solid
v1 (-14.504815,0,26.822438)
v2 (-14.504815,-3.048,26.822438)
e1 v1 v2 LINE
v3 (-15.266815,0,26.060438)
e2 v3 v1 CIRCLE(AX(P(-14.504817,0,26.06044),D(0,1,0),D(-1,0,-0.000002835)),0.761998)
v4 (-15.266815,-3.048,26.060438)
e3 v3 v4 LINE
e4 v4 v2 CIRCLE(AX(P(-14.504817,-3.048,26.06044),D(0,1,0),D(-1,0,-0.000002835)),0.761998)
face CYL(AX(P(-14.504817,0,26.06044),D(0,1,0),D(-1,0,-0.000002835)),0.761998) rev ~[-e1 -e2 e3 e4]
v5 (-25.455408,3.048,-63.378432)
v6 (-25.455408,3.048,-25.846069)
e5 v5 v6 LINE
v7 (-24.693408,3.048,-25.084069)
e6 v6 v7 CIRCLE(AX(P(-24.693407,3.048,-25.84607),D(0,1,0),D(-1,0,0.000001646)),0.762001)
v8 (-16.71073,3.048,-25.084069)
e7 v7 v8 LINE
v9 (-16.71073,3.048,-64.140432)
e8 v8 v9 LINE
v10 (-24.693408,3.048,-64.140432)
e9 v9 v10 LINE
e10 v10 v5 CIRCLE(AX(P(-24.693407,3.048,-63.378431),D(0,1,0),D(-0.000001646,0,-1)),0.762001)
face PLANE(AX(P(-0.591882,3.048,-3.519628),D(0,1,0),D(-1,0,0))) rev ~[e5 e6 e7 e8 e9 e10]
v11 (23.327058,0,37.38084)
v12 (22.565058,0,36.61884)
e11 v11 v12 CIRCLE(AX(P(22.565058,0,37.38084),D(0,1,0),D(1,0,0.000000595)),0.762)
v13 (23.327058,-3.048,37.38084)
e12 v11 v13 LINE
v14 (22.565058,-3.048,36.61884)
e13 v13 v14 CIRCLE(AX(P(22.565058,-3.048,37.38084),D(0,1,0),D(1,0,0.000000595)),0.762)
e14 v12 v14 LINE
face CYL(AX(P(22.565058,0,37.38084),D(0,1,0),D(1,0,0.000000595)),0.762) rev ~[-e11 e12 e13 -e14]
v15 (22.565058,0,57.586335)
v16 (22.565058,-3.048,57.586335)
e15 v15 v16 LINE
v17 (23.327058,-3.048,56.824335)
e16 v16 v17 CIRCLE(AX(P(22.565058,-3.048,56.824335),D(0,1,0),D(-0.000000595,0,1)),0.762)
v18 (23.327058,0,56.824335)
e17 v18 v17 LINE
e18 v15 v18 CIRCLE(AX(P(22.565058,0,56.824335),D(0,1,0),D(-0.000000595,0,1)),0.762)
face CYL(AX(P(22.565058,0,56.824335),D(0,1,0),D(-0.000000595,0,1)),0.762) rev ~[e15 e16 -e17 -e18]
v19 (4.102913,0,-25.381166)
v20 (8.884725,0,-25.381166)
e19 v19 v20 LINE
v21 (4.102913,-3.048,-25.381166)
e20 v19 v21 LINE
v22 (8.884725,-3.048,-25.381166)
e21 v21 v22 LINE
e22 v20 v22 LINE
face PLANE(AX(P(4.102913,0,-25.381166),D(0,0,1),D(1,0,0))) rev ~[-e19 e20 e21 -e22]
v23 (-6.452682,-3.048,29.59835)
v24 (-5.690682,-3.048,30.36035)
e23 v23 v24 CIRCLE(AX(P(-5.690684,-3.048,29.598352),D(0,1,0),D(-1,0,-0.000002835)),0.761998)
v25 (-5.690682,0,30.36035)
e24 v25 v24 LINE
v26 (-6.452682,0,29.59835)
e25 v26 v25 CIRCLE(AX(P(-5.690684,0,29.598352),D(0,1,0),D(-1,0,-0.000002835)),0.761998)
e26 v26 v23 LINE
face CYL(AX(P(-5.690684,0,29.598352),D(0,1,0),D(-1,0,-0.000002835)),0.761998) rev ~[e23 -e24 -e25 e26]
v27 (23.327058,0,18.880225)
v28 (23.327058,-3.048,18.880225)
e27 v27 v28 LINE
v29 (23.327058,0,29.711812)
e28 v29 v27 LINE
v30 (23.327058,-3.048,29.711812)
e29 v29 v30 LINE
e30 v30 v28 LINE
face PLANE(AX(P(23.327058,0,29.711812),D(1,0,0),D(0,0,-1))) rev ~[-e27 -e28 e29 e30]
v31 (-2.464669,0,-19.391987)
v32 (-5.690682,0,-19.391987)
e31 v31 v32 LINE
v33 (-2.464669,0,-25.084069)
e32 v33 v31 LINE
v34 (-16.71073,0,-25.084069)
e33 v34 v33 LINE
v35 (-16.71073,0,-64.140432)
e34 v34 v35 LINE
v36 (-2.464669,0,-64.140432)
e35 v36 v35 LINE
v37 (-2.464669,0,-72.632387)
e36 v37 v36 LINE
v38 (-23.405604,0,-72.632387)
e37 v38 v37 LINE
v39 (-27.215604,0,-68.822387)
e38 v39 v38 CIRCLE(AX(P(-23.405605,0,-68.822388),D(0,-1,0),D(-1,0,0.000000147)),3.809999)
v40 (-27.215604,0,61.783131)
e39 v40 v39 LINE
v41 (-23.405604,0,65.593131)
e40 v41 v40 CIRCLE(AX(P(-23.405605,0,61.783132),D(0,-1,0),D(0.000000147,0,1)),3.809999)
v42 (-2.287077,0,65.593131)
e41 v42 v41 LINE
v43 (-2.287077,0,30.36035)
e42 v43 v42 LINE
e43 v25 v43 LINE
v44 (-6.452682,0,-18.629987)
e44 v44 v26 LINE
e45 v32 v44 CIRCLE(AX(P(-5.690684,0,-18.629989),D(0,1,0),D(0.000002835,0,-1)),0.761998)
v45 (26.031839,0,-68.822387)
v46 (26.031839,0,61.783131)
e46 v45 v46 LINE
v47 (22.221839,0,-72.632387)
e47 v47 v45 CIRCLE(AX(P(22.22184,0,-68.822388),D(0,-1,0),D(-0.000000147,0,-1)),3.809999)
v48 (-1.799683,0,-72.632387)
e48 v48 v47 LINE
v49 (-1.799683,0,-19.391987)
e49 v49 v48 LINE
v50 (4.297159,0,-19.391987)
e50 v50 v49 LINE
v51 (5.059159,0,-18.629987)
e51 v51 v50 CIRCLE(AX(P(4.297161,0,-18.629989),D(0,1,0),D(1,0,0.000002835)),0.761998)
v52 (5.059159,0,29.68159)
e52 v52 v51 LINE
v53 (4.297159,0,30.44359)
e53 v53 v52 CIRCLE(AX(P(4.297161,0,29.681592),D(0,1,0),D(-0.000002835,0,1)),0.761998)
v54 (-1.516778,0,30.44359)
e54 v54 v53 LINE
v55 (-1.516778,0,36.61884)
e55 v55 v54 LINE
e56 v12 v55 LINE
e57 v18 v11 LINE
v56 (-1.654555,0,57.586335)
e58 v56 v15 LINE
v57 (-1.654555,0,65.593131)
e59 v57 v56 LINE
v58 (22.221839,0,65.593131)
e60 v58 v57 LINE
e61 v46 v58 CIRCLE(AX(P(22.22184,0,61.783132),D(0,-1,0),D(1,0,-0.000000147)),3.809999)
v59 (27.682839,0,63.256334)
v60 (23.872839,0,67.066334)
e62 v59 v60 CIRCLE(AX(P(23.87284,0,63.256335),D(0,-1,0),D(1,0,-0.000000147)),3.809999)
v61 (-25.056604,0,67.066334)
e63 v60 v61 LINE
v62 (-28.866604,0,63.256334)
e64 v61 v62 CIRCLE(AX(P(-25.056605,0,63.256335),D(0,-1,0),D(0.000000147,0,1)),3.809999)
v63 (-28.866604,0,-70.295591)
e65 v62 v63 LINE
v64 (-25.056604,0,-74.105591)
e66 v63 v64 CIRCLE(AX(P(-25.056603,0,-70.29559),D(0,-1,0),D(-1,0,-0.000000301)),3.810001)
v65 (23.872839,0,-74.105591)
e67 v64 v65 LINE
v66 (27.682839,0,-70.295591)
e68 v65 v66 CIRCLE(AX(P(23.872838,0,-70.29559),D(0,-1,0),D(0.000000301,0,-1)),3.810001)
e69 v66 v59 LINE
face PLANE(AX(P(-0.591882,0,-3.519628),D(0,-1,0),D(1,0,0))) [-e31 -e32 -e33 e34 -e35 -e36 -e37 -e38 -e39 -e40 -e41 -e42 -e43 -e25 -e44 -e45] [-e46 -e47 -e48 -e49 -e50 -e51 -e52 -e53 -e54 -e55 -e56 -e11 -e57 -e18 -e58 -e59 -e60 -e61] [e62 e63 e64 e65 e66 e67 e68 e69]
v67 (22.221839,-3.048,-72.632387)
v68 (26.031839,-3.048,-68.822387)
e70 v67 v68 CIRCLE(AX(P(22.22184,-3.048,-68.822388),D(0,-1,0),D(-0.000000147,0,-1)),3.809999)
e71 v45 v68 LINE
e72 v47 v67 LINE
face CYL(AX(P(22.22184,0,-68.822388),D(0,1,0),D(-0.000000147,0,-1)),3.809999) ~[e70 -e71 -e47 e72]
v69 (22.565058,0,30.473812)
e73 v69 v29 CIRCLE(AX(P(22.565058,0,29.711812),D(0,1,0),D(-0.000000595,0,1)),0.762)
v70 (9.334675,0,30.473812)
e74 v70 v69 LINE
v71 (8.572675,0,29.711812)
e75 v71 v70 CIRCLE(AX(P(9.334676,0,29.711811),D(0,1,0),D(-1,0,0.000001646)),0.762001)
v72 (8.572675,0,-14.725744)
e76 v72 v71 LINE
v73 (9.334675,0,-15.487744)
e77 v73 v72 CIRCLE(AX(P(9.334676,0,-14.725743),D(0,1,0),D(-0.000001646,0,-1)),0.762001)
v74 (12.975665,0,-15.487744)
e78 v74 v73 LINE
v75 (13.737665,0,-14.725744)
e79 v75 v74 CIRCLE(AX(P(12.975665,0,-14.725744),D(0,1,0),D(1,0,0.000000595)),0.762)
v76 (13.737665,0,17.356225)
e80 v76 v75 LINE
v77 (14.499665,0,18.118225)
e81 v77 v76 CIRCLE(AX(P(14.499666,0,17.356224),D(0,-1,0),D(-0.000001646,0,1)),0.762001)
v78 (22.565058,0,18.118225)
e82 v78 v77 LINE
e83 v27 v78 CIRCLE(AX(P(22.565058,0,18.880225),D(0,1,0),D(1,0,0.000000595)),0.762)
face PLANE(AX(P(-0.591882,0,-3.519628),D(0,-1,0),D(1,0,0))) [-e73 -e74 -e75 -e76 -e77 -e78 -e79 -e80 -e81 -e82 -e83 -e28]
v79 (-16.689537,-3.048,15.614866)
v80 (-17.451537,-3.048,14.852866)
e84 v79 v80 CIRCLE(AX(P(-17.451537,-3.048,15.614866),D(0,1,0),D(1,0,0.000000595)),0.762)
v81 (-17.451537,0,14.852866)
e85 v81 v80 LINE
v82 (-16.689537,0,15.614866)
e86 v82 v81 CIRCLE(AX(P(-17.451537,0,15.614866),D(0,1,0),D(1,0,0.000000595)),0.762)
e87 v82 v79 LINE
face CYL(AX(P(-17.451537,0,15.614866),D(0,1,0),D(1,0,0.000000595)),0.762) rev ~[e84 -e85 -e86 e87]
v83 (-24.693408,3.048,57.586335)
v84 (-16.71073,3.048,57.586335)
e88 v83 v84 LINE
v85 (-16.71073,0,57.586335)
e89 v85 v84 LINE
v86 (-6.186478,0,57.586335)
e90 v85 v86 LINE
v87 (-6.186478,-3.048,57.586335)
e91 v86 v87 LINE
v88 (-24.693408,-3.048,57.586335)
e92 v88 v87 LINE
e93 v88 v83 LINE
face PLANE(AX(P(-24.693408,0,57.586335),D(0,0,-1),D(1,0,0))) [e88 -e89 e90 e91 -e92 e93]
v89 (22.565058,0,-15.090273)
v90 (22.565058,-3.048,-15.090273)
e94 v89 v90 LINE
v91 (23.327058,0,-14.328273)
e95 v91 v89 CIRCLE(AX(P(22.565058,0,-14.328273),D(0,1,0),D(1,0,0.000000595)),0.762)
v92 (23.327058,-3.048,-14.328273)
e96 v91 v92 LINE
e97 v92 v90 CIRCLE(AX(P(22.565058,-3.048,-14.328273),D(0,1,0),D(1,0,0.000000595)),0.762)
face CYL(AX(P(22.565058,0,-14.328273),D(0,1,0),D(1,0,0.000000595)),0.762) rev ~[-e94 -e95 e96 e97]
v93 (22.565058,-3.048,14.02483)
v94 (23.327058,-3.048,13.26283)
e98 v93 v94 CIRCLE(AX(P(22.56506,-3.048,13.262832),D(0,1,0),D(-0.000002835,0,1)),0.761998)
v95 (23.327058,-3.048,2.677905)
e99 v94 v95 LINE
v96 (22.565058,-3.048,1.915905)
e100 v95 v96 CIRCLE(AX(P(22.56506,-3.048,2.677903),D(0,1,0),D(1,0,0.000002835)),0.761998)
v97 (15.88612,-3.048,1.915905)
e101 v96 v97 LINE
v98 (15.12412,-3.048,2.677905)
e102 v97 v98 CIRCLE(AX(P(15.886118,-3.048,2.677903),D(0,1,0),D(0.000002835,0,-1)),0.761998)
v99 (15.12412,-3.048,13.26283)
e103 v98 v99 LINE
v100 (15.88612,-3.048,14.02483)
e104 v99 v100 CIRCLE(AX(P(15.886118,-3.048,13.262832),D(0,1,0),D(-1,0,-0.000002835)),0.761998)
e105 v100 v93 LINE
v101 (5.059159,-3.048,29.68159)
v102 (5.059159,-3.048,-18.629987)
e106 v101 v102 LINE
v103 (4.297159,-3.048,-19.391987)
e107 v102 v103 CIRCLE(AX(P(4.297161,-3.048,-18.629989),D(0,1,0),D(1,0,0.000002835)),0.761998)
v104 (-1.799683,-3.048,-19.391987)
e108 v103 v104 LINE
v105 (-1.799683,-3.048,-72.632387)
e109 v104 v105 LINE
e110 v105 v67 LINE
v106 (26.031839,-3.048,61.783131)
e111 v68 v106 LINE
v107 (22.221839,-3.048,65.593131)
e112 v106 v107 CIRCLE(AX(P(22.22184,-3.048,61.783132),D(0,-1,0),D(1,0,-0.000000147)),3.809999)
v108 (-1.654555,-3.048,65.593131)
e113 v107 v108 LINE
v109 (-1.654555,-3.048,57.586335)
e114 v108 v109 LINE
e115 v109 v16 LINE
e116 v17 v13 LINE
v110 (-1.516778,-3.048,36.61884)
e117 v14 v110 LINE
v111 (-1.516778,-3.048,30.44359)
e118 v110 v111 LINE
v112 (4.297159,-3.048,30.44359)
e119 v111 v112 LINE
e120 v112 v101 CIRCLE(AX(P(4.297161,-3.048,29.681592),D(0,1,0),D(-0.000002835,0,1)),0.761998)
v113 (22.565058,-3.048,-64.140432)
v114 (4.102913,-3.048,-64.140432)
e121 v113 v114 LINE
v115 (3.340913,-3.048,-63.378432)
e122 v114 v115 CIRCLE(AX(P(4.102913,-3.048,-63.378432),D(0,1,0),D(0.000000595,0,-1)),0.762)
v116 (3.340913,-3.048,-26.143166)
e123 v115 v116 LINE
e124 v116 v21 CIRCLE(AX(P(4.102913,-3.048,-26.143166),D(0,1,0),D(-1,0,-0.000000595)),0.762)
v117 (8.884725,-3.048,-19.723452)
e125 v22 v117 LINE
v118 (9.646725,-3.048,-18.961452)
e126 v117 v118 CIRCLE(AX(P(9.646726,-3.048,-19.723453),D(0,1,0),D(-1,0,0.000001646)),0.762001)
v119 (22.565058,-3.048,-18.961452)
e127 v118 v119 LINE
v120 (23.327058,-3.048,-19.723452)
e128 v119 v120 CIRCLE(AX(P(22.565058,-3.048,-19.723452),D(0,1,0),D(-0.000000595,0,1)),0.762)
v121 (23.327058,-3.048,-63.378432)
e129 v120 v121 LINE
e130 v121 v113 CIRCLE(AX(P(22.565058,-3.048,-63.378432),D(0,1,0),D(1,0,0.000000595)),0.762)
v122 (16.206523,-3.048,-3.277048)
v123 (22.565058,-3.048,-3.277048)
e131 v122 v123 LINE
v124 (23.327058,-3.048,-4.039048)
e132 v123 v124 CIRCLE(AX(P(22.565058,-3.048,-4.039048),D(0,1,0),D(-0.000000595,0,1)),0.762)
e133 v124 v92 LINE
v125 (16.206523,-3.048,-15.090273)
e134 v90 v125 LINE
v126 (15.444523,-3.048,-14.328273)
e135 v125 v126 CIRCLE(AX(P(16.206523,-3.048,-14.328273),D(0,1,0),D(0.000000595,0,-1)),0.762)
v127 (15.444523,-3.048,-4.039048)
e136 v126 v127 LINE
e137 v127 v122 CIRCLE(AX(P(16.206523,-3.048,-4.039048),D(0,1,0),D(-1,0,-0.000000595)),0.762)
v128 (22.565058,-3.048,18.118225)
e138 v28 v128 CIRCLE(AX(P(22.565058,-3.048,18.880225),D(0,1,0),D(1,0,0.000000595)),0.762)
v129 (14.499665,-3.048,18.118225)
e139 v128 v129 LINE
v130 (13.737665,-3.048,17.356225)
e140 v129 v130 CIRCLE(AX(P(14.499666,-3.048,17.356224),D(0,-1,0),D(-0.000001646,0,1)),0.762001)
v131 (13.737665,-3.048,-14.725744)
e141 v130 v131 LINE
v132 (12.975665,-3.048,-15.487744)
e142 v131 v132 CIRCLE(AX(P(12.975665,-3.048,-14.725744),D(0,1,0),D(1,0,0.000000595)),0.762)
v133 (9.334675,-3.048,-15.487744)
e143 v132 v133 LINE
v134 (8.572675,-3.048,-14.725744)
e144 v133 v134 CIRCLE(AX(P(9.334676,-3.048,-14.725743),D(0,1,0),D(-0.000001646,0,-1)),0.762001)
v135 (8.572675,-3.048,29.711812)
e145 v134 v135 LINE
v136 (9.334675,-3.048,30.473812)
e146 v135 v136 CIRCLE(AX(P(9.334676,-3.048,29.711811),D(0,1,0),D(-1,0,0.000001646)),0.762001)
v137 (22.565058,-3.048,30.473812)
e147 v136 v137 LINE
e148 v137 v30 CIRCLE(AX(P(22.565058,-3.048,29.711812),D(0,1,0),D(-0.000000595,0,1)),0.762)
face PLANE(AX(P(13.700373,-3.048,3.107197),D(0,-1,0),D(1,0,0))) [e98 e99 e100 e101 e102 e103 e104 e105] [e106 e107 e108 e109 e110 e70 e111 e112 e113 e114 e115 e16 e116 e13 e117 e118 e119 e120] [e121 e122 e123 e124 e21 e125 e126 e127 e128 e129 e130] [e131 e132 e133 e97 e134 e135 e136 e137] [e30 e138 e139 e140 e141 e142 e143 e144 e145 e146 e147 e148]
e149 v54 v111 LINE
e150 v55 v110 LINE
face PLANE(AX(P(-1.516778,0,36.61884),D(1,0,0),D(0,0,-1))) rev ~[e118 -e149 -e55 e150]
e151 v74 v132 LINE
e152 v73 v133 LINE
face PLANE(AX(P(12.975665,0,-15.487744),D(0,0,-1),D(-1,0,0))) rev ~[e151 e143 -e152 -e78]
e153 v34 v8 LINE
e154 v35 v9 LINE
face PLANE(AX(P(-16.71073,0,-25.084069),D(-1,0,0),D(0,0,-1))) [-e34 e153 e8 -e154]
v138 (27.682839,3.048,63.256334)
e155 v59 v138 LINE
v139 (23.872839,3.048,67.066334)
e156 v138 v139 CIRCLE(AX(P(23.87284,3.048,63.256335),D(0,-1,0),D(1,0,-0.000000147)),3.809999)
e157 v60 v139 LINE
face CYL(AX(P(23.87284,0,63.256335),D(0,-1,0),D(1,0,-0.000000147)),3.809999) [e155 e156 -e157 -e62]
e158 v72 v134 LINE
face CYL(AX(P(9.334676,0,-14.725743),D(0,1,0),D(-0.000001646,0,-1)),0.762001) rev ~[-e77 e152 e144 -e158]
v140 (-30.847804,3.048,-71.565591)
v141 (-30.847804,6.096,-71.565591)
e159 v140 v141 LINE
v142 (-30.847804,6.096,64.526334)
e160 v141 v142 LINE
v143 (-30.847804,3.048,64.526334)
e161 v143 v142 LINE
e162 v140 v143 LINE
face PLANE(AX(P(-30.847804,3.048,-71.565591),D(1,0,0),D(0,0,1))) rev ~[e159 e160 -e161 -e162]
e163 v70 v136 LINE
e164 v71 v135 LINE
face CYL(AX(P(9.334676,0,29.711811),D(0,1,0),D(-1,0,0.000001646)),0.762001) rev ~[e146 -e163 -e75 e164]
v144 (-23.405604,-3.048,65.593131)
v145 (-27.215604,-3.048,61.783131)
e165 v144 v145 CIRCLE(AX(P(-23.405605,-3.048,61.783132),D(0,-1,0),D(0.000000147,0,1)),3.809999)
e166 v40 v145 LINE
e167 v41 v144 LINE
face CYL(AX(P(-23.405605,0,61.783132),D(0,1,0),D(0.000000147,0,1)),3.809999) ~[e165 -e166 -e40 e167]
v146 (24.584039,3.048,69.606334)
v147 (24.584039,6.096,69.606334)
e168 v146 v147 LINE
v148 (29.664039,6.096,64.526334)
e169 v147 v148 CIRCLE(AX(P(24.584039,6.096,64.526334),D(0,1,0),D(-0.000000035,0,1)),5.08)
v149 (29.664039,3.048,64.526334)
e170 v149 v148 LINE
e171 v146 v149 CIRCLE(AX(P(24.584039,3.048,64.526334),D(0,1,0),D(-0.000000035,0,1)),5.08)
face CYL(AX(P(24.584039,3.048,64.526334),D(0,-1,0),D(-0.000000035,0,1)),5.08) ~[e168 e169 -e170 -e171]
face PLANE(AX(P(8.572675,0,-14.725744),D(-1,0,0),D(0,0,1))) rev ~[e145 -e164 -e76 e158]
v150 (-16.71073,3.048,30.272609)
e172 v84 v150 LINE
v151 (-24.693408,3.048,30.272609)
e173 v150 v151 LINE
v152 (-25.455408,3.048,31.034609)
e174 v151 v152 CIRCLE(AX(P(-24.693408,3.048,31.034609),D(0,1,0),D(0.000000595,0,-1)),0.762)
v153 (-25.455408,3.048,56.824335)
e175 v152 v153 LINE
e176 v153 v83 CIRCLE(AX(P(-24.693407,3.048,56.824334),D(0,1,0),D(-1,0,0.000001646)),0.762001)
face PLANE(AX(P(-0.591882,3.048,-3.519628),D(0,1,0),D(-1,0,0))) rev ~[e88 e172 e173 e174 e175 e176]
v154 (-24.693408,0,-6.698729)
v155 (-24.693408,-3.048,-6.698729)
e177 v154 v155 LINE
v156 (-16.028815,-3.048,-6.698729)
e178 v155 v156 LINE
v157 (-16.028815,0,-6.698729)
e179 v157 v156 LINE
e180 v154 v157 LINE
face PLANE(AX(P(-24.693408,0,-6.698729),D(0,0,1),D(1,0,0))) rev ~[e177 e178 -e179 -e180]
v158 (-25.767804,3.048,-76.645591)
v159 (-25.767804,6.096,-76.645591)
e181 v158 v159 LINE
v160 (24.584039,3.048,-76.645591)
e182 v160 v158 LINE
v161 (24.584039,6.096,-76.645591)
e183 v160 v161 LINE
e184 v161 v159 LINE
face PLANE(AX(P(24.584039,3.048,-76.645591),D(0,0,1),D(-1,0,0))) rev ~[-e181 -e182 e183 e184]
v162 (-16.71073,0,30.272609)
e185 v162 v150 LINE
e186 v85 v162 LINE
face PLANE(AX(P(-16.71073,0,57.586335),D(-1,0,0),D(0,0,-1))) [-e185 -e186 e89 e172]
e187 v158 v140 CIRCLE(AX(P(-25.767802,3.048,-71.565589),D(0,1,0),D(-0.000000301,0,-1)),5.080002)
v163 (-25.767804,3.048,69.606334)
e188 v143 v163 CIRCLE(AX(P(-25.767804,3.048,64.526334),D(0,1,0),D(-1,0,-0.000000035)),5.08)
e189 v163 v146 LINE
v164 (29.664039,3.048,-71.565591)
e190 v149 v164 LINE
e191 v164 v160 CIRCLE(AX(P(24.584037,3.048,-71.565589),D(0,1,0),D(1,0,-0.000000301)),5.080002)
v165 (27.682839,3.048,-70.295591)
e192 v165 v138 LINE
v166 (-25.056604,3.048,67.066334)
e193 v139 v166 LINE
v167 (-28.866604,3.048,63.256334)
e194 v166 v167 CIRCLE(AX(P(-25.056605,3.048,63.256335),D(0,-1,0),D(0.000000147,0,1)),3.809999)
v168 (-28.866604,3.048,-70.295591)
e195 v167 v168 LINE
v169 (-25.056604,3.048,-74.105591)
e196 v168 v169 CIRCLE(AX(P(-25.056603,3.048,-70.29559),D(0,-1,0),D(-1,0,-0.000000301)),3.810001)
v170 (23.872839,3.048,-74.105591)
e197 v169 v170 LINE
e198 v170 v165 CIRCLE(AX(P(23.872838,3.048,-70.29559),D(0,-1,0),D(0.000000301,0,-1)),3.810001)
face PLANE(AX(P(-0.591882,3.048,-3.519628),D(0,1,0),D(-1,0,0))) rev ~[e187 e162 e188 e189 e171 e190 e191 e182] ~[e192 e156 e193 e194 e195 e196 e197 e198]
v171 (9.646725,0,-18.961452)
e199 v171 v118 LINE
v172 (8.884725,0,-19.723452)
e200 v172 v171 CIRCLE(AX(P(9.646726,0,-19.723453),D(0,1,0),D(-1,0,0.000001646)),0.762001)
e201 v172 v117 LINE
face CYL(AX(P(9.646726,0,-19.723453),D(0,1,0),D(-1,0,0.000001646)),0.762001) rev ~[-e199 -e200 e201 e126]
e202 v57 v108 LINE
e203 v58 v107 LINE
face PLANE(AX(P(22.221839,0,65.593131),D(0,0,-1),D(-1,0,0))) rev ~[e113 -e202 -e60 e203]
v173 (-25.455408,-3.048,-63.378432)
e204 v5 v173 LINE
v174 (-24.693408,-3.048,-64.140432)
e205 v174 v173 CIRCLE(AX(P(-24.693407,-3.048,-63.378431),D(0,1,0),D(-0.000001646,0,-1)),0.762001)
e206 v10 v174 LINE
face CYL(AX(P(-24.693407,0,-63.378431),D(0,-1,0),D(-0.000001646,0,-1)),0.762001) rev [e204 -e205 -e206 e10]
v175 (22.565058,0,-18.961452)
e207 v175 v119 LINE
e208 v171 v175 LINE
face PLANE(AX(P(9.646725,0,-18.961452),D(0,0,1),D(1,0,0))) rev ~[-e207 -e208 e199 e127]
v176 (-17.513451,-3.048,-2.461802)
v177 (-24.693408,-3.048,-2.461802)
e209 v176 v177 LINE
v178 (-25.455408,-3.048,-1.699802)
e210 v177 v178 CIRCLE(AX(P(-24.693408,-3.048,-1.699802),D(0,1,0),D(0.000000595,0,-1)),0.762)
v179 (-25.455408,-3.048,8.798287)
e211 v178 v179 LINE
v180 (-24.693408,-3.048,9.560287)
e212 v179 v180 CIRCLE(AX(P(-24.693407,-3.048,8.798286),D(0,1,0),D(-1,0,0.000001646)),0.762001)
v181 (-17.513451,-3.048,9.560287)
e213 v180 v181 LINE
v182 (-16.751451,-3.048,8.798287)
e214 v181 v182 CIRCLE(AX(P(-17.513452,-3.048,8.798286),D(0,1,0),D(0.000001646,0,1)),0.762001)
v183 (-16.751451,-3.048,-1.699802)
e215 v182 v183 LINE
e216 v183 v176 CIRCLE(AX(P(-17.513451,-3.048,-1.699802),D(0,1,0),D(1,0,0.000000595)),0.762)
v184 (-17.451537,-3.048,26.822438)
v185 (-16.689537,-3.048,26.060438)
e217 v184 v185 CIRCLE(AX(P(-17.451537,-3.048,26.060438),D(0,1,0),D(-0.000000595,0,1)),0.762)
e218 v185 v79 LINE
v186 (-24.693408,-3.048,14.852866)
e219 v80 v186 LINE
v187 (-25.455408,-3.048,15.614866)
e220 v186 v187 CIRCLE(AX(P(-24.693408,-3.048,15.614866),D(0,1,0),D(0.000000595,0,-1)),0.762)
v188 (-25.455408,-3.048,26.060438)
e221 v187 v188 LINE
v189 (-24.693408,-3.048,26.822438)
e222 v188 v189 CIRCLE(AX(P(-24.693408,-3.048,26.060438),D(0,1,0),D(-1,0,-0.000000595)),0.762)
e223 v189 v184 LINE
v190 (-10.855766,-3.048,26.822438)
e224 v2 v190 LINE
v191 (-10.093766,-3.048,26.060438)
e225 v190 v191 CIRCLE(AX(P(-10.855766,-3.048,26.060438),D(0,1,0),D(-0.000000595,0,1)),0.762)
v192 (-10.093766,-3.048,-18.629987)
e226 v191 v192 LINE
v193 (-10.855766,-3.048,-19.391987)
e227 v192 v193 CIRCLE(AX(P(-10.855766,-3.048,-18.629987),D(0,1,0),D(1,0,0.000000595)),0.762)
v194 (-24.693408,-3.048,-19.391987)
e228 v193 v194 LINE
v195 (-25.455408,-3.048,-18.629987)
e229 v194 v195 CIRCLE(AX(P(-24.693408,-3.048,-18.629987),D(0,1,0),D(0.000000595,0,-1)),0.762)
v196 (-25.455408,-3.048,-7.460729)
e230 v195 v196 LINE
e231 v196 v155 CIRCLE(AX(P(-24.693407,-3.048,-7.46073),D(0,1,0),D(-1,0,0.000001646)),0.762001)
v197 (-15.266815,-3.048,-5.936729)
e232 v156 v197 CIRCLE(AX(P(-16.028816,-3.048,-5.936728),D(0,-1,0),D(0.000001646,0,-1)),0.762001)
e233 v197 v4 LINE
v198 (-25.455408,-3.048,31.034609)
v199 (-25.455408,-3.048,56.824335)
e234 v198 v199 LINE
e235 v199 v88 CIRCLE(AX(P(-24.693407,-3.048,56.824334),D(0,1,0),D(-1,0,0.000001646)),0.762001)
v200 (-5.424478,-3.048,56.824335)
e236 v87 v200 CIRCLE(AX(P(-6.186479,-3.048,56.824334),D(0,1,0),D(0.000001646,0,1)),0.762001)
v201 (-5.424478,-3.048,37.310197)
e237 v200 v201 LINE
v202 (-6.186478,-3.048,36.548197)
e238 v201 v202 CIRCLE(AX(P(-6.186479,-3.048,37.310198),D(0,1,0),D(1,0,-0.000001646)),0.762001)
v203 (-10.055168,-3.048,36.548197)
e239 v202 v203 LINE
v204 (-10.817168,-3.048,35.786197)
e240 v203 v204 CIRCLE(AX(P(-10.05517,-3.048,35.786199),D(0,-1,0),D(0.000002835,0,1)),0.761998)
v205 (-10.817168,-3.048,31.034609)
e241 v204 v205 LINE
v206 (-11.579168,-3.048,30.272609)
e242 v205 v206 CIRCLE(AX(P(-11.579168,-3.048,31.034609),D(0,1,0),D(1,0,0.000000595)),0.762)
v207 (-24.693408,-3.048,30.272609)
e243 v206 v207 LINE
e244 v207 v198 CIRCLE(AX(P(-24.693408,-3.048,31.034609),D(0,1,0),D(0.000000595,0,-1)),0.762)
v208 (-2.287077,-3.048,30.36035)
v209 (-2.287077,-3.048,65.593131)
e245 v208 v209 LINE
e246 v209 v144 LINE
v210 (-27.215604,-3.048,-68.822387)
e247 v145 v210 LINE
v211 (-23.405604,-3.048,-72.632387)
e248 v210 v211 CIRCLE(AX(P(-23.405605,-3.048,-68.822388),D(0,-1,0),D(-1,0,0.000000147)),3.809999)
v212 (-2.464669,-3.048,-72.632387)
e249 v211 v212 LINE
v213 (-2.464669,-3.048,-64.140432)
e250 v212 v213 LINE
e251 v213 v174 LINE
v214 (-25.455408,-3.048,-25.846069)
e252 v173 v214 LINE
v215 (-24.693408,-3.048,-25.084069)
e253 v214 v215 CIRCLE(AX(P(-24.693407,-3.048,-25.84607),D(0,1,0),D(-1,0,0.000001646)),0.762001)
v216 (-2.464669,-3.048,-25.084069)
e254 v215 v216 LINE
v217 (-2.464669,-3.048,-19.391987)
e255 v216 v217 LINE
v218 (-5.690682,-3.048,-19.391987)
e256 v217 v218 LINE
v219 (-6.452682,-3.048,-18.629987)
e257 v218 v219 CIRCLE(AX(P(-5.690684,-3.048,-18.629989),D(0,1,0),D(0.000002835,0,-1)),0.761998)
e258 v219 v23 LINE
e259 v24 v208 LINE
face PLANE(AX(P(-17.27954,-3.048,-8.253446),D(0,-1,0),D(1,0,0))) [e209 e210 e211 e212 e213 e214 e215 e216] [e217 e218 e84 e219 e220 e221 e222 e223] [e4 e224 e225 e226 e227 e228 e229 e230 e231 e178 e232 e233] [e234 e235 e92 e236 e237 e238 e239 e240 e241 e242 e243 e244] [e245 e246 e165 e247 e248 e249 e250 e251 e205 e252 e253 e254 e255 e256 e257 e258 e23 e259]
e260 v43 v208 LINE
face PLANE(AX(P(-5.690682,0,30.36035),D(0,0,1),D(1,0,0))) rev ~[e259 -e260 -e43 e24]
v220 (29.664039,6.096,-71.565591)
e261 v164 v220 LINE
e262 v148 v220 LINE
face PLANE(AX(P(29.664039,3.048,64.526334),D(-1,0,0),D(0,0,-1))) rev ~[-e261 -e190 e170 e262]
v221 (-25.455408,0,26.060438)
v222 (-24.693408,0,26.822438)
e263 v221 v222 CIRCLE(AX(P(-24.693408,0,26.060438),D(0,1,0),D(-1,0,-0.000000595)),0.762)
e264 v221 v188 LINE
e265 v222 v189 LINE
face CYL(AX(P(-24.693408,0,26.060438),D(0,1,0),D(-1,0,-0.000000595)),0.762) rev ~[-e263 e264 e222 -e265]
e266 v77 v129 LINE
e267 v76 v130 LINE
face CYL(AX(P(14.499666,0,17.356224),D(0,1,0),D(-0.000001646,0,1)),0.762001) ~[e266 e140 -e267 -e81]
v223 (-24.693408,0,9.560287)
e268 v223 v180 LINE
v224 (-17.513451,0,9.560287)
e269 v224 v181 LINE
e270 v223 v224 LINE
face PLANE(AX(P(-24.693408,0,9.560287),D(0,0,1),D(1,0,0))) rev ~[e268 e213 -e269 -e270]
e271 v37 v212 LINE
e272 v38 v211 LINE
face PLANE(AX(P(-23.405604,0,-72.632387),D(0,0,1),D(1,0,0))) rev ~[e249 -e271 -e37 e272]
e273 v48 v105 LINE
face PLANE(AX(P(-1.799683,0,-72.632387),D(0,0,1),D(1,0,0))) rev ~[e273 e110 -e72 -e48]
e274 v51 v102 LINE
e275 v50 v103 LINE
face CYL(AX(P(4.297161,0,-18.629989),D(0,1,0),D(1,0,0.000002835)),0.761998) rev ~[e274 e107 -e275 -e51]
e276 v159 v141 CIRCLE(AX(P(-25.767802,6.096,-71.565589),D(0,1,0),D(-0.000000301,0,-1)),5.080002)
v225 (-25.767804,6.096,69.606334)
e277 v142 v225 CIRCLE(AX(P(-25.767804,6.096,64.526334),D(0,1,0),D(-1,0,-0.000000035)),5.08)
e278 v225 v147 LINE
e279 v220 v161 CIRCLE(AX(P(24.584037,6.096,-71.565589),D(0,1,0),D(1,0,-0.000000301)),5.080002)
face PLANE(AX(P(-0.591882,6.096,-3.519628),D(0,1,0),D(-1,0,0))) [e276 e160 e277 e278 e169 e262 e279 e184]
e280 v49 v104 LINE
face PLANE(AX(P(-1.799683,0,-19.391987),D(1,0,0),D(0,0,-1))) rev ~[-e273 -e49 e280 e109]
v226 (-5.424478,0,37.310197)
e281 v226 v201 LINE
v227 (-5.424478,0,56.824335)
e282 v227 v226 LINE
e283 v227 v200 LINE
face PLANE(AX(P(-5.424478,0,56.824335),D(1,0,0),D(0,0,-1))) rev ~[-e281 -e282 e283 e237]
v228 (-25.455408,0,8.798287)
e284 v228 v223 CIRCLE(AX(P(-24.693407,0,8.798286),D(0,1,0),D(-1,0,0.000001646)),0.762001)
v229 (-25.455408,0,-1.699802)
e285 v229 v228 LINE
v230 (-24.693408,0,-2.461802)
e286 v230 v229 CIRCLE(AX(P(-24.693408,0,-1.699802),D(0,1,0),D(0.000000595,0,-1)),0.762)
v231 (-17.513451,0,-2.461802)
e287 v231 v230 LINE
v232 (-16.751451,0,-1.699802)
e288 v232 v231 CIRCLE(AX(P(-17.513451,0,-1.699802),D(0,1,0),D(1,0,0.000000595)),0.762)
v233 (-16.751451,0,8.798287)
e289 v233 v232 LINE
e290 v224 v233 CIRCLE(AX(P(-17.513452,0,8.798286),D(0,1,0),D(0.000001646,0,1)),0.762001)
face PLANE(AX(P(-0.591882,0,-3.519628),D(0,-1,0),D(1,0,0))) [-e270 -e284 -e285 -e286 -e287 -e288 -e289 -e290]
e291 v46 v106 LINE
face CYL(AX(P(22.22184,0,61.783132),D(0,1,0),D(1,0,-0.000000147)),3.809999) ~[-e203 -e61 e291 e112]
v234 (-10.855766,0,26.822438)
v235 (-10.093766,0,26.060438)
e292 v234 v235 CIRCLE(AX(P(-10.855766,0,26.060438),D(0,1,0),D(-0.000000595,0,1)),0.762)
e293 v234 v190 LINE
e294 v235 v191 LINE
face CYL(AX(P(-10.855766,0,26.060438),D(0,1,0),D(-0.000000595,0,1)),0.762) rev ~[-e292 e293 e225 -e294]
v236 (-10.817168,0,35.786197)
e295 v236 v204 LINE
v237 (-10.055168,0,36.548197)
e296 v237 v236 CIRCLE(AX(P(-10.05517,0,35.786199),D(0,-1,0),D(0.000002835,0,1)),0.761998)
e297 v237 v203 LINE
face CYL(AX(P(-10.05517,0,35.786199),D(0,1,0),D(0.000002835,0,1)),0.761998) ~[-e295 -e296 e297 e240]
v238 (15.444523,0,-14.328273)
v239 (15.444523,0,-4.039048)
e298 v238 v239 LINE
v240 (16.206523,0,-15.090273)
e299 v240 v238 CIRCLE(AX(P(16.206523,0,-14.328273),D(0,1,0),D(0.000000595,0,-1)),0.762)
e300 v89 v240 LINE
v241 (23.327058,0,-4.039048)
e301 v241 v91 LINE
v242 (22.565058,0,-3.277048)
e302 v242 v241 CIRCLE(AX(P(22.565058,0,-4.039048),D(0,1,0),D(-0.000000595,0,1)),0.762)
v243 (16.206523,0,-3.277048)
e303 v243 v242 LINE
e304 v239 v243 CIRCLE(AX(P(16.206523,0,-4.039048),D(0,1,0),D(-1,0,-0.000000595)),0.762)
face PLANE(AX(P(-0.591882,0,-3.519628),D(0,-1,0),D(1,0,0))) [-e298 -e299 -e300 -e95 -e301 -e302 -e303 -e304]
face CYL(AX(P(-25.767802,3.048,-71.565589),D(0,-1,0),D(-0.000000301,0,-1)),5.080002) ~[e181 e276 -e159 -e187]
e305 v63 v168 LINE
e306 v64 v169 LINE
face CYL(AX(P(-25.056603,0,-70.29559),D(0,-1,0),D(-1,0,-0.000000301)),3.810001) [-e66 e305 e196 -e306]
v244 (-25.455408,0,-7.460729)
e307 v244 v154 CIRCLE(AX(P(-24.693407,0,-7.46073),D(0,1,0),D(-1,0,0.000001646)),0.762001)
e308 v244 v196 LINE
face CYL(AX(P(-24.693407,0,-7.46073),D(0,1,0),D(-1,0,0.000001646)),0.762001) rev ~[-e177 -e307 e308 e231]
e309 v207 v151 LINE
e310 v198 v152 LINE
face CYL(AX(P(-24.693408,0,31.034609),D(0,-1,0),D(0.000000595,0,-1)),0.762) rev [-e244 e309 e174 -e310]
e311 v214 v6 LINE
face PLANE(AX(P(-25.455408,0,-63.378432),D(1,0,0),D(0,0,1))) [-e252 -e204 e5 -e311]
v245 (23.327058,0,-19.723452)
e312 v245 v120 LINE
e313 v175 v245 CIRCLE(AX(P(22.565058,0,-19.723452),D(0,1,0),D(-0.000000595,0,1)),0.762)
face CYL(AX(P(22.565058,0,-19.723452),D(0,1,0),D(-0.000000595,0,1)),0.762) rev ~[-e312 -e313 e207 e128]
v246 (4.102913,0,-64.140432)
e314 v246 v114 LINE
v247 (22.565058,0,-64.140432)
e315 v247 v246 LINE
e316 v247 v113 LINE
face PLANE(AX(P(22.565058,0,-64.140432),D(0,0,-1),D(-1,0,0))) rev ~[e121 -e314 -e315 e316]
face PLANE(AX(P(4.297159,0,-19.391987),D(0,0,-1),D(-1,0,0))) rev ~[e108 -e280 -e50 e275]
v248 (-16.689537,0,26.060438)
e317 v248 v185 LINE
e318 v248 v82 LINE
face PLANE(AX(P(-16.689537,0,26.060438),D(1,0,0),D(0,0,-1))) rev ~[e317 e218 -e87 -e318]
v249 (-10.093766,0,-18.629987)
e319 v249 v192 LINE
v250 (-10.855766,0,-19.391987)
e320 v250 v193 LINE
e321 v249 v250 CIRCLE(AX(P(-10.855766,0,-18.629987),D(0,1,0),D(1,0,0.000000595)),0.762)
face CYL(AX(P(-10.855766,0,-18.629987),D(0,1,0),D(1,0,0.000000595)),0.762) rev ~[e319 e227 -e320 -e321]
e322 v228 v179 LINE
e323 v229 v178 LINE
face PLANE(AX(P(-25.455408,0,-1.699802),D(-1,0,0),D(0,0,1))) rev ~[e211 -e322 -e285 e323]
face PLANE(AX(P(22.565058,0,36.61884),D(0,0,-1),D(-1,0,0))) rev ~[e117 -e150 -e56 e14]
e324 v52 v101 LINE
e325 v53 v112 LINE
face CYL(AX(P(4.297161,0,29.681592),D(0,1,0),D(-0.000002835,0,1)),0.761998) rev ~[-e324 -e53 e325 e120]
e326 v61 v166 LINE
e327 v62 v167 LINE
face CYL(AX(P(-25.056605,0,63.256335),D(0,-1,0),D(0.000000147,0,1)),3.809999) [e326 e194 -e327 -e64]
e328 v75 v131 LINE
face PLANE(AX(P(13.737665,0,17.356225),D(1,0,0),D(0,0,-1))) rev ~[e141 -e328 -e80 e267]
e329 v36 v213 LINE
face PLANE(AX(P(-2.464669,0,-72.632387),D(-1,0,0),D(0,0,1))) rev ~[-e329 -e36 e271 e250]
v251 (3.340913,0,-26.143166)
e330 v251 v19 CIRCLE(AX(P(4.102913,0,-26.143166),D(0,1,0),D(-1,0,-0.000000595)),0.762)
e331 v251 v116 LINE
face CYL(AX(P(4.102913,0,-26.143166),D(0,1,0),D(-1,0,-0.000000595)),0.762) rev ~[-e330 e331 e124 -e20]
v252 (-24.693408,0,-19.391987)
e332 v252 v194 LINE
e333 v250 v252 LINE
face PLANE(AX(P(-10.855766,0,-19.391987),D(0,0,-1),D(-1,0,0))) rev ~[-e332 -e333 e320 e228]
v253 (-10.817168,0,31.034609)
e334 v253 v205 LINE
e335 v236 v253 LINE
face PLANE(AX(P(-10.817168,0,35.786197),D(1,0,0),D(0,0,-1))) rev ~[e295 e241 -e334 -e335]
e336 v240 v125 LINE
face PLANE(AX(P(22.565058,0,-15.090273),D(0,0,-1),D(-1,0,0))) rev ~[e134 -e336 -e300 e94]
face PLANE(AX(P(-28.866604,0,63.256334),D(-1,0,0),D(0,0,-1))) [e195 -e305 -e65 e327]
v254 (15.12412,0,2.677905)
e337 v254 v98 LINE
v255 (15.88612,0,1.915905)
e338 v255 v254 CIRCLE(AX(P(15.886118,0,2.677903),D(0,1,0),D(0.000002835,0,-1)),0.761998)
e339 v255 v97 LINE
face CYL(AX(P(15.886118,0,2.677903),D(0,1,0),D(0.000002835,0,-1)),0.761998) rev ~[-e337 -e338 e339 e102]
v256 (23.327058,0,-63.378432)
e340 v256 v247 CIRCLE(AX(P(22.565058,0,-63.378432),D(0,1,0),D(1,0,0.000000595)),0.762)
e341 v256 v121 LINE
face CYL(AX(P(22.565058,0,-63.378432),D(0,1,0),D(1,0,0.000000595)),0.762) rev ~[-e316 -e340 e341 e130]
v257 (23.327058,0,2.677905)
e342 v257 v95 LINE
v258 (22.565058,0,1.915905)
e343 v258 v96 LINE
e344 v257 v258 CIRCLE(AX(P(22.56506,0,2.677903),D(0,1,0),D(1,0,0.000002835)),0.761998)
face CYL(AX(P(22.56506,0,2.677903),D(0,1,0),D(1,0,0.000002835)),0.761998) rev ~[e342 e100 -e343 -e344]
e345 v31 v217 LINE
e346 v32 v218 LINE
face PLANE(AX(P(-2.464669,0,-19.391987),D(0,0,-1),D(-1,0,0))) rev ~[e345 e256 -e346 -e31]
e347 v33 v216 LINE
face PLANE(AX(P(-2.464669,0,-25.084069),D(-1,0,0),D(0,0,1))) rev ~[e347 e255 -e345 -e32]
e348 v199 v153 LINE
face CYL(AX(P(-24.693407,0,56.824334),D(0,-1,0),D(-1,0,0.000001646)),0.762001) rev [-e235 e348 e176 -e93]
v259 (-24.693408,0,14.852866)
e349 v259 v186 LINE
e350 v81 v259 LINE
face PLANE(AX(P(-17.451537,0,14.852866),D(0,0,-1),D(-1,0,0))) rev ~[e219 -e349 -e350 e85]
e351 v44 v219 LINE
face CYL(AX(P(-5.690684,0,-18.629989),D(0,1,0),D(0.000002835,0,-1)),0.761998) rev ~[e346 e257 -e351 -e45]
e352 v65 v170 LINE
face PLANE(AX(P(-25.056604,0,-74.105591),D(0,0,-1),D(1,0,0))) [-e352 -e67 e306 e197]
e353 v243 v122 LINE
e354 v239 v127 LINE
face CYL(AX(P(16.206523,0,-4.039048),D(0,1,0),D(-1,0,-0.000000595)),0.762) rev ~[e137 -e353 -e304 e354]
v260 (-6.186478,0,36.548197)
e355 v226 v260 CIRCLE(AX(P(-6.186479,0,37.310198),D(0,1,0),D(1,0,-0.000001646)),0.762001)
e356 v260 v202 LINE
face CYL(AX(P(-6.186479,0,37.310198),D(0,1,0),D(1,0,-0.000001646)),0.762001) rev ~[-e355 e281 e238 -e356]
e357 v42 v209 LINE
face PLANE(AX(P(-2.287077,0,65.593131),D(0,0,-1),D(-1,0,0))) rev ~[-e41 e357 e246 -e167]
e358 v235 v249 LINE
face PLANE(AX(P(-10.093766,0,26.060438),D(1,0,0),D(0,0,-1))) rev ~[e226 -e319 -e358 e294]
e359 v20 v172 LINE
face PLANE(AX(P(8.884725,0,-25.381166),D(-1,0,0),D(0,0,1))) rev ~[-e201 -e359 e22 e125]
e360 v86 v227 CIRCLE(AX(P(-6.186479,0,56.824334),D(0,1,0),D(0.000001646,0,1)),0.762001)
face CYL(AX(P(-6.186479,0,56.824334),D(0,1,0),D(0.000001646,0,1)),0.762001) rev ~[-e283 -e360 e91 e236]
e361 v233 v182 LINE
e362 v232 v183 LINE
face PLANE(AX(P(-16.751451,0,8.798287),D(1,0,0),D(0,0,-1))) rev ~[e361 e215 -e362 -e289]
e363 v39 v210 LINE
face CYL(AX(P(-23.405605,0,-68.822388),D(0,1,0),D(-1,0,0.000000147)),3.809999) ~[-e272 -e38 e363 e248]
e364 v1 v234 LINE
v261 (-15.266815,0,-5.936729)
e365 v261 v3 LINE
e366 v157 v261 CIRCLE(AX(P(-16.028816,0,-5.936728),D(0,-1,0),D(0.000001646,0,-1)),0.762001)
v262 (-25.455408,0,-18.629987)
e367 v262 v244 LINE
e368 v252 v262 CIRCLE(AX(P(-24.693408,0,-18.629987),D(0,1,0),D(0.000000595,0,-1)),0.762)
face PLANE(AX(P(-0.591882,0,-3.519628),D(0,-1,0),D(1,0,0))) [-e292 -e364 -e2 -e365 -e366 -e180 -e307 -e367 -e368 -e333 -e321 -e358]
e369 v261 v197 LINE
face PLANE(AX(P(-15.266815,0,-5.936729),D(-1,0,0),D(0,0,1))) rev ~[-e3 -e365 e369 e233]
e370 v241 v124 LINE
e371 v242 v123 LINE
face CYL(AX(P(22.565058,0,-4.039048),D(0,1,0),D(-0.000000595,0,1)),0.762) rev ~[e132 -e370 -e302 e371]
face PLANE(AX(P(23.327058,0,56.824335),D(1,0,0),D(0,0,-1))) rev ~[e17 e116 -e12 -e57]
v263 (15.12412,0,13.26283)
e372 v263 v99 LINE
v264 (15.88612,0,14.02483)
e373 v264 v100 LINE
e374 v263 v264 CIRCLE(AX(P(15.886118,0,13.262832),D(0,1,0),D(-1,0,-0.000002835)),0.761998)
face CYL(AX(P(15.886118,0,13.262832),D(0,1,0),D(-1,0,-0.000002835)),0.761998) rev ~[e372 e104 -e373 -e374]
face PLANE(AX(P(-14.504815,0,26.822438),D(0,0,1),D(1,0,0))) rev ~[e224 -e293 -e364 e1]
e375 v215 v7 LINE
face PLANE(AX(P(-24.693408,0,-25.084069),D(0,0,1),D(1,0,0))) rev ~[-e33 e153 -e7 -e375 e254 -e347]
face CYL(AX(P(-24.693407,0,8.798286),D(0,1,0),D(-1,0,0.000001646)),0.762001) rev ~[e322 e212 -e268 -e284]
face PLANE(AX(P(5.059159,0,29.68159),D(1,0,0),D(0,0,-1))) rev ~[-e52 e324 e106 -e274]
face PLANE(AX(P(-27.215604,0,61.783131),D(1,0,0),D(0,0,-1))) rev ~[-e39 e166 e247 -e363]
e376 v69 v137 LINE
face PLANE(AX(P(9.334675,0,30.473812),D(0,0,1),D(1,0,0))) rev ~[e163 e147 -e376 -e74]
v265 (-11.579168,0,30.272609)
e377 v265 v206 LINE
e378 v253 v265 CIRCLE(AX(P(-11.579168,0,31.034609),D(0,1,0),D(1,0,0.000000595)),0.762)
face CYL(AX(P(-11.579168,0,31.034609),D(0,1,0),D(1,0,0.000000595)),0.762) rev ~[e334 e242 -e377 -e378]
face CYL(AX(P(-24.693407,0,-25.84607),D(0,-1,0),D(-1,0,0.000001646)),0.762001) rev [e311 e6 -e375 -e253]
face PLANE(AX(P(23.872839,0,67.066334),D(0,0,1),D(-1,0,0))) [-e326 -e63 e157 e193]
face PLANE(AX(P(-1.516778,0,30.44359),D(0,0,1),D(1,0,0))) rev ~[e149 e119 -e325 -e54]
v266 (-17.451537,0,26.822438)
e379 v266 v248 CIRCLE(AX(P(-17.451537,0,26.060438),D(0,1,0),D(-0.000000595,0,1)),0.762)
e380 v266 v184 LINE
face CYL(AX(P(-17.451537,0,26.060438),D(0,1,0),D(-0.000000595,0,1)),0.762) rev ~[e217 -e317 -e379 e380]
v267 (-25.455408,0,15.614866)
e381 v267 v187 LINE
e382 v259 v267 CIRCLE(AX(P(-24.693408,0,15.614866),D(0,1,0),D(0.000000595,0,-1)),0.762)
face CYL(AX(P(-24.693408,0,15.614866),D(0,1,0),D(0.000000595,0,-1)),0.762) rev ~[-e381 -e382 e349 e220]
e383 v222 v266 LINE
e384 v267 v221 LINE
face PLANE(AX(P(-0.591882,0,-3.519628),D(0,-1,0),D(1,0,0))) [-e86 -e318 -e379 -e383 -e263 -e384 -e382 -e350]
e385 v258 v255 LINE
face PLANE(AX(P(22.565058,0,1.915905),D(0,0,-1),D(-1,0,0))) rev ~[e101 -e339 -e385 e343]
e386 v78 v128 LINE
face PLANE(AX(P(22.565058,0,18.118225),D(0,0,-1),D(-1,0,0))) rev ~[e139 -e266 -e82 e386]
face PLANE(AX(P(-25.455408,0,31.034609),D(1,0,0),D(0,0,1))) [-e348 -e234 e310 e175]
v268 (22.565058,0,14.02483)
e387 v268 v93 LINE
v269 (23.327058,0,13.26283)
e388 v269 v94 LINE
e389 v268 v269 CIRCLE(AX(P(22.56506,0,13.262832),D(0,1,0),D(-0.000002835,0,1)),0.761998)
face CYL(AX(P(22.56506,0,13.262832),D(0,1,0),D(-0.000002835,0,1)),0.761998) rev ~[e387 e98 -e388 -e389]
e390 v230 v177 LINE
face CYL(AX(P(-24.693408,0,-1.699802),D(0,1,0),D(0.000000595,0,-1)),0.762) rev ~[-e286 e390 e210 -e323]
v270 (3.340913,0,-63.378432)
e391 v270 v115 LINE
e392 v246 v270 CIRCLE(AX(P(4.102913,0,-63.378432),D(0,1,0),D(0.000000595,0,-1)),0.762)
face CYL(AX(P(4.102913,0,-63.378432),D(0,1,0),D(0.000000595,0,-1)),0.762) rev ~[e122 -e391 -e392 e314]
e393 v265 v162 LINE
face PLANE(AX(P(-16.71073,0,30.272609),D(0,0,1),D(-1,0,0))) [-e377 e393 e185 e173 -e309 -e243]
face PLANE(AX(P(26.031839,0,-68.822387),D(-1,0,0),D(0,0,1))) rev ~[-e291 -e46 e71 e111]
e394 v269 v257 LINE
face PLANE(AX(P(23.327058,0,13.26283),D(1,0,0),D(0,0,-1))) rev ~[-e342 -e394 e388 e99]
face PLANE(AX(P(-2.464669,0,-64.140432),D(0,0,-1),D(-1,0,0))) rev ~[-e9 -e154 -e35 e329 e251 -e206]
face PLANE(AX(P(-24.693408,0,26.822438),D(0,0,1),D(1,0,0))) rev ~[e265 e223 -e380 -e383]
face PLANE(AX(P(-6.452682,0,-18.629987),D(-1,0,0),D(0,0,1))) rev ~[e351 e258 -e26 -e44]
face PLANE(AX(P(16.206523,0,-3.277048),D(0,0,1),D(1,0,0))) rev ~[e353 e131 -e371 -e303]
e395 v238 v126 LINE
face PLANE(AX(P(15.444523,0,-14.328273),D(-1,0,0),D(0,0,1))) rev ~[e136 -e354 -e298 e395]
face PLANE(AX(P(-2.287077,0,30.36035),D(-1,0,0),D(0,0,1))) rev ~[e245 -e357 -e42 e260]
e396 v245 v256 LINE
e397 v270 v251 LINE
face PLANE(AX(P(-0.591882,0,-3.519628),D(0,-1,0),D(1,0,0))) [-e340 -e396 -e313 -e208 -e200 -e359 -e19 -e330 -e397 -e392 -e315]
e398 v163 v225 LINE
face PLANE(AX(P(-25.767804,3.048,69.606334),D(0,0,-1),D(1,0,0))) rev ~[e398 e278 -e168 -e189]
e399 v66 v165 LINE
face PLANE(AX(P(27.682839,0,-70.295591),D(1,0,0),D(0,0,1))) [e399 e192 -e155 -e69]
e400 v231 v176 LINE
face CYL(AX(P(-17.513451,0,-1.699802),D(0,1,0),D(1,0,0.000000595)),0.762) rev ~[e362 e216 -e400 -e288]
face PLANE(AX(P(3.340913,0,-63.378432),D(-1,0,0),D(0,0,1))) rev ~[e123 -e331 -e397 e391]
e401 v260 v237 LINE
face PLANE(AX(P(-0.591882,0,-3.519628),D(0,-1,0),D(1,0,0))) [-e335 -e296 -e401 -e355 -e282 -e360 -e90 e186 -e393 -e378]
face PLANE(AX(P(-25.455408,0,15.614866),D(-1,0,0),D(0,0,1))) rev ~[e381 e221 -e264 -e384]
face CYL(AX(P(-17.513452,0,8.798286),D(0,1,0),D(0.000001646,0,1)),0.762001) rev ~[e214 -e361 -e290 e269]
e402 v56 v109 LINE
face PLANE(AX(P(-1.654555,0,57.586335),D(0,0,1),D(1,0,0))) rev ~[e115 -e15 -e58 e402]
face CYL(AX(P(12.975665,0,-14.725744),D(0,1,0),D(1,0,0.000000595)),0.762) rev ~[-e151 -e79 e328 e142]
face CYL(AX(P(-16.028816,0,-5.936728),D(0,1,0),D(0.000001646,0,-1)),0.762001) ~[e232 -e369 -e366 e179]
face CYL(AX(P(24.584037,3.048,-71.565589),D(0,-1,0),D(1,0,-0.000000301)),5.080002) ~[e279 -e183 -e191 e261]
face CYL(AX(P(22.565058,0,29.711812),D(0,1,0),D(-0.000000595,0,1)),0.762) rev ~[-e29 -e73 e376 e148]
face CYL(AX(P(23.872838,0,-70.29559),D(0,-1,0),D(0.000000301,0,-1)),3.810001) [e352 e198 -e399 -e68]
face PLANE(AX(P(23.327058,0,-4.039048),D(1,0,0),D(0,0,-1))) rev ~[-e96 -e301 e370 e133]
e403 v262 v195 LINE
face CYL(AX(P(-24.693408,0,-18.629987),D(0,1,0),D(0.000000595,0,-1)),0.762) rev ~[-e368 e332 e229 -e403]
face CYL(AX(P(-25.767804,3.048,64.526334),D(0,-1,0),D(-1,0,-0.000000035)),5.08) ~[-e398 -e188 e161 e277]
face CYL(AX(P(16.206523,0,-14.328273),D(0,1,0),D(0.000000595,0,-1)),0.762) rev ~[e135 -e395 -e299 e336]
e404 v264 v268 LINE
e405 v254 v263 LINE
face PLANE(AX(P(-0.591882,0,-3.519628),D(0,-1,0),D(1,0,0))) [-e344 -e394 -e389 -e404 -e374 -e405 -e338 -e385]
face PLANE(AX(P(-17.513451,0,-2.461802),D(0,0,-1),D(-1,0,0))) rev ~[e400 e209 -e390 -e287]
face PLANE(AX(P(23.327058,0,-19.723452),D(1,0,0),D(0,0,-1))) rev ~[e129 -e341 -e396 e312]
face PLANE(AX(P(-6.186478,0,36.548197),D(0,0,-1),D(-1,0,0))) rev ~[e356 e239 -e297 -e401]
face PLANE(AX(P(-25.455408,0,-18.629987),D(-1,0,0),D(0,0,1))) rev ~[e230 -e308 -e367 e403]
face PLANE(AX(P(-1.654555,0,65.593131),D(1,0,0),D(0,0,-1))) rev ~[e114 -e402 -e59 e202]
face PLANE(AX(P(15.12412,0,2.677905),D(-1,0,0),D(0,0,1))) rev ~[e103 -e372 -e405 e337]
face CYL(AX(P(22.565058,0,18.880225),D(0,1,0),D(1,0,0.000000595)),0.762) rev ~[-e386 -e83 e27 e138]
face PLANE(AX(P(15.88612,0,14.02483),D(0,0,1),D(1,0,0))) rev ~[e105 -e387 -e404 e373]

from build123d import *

# Parameters (mm, degrees)
F1_DEPTH = 3.048
F3_DEPTH = 3.048
F5_DEPTH = 3.048


with BuildPart() as f1:
    # F0 (on Front) → F1 (new body)
    with BuildSketch(Plane.XZ):
        with BuildLine():
            Line((-27.215604, 61.783131), (-27.215604, -68.822387))
            ThreePointArc((-27.215604, -68.822387), (-26.099681, -71.516464), (-23.405604, -72.632387))
            Line((-23.405604, -72.632387), (-2.464669, -72.632387))
            Line((-2.464669, -72.632387), (-2.464669, -64.140432))
            Line((-2.464669, -64.140432), (-24.693408, -64.140432))
            ThreePointArc((-24.693408, -64.140432), (-25.232223, -63.917247), (-25.455408, -63.378432))
            Line((-25.455408, -63.378432), (-25.455408, -25.846069))
            ThreePointArc((-25.455408, -25.846069), (-25.232223, -25.307254), (-24.693408, -25.084069))
            Line((-24.693408, -25.084069), (-2.464669, -25.084069))
            Line((-2.464669, -25.084069), (-2.464669, -19.391987))
            Line((-2.464669, -19.391987), (-5.690682, -19.391987))
            ThreePointArc((-5.690682, -19.391987), (-6.229498, -19.168803), (-6.452682, -18.629987))
            Line((-6.452682, -18.629987), (-6.452682, 29.59835))
            ThreePointArc((-6.452682, 29.59835), (-6.229498, 30.137166), (-5.690682, 30.36035))
            Line((-5.690682, 30.36035), (-2.287077, 30.36035))
            Line((-2.287077, 30.36035), (-2.287077, 65.593131))
            Line((-2.287077, 65.593131), (-23.405604, 65.593131))
            ThreePointArc((-23.405604, 65.593131), (-26.099681, 64.477208), (-27.215604, 61.783131))
        make_face()
        with BuildLine():
            ThreePointArc((-25.455408, 8.798287), (-25.232223, 9.337102), (-24.693408, 9.560287))
            Line((-24.693408, 9.560287), (-17.513451, 9.560287))
            ThreePointArc((-17.513451, 9.560287), (-16.974636, 9.337102), (-16.751451, 8.798287))
            Line((-16.751451, 8.798287), (-16.751451, -1.699802))
            ThreePointArc((-16.751451, -1.699802), (-16.974636, -2.238618), (-17.513451, -2.461802))
            Line((-17.513451, -2.461802), (-24.693408, -2.461802))
            ThreePointArc((-24.693408, -2.461802), (-25.232223, -2.238618), (-25.455408, -1.699802))
            Line((-25.455408, -1.699802), (-25.455408, 8.798287))
        make_face(mode=Mode.SUBTRACT)
        with BuildLine():
            ThreePointArc((-25.455408, -7.460729), (-25.232223, -6.921914), (-24.693408, -6.698729))
            Line((-24.693408, -6.698729), (-16.028815, -6.698729))
            ThreePointArc((-16.028815, -6.698729), (-15.49, -6.475544), (-15.266815, -5.936729))
            Line((-15.266815, -5.936729), (-15.266815, 26.060438))
            ThreePointArc((-15.266815, 26.060438), (-15.043631, 26.599254), (-14.504815, 26.822438))
            Line((-14.504815, 26.822438), (-10.855766, 26.822438))
            ThreePointArc((-10.855766, 26.822438), (-10.316951, 26.599254), (-10.093766, 26.060438))
            Line((-10.093766, 26.060438), (-10.093766, -18.629987))
            ThreePointArc((-10.093766, -18.629987), (-10.316951, -19.168803), (-10.855766, -19.391987))
            Line((-10.855766, -19.391987), (-24.693408, -19.391987))
            ThreePointArc((-24.693408, -19.391987), (-25.232223, -19.168803), (-25.455408, -18.629987))
            Line((-25.455408, -18.629987), (-25.455408, -7.460729))
        make_face(mode=Mode.SUBTRACT)
        with BuildLine():
            ThreePointArc((-25.455408, 26.060438), (-25.232223, 26.599254), (-24.693408, 26.822438))
            Line((-24.693408, 26.822438), (-17.451537, 26.822438))
            ThreePointArc((-17.451537, 26.822438), (-16.912722, 26.599254), (-16.689537, 26.060438))
            Line((-16.689537, 26.060438), (-16.689537, 15.614866))
            ThreePointArc((-16.689537, 15.614866), (-16.912722, 15.07605), (-17.451537, 14.852866))
            Line((-17.451537, 14.852866), (-24.693408, 14.852866))
            ThreePointArc((-24.693408, 14.852866), (-25.232223, 15.07605), (-25.455408, 15.614866))
            Line((-25.455408, 15.614866), (-25.455408, 26.060438))
        make_face(mode=Mode.SUBTRACT)
        with BuildLine():
            Line((-25.455408, 31.034609), (-25.455408, 56.824335))
            ThreePointArc((-25.455408, 56.824335), (-25.232223, 57.36315), (-24.693408, 57.586335))
            Line((-24.693408, 57.586335), (-6.186478, 57.586335))
            ThreePointArc((-6.186478, 57.586335), (-5.647663, 57.36315), (-5.424478, 56.824335))
            Line((-5.424478, 56.824335), (-5.424478, 37.310197))
            ThreePointArc((-5.424478, 37.310197), (-5.647663, 36.771382), (-6.186478, 36.548197))
            Line((-6.186478, 36.548197), (-10.055168, 36.548197))
            ThreePointArc((-10.055168, 36.548197), (-10.593984, 36.325013), (-10.817168, 35.786197))
            Line((-10.817168, 35.786197), (-10.817168, 31.034609))
            ThreePointArc((-10.817168, 31.034609), (-11.040353, 30.495793), (-11.579168, 30.272609))
            Line((-11.579168, 30.272609), (-24.693408, 30.272609))
            ThreePointArc((-24.693408, 30.272609), (-25.232223, 30.495793), (-25.455408, 31.034609))
        make_face(mode=Mode.SUBTRACT)
        with BuildLine():
            Line((-1.799683, -19.391987), (-1.799683, -72.632387))
            Line((-1.799683, -72.632387), (22.221839, -72.632387))
            ThreePointArc((22.221839, -72.632387), (24.915916, -71.516464), (26.031839, -68.822387))
            Line((26.031839, -68.822387), (26.031839, 61.783131))
            ThreePointArc((26.031839, 61.783131), (24.915916, 64.477208), (22.221839, 65.593131))
            Line((22.221839, 65.593131), (-1.654555, 65.593131))
            Line((-1.654555, 65.593131), (-1.654555, 57.586335))
            Line((-1.654555, 57.586335), (22.565058, 57.586335))
            ThreePointArc((22.565058, 57.586335), (23.103874, 57.36315), (23.327058, 56.824335))
            Line((23.327058, 56.824335), (23.327058, 37.38084))
            ThreePointArc((23.327058, 37.38084), (23.103874, 36.842025), (22.565058, 36.61884))
            Line((22.565058, 36.61884), (-1.516778, 36.61884))
            Line((-1.516778, 36.61884), (-1.516778, 30.44359))
            Line((-1.516778, 30.44359), (4.297159, 30.44359))
            ThreePointArc((4.297159, 30.44359), (4.835975, 30.220406), (5.059159, 29.68159))
            Line((5.059159, 29.68159), (5.059159, -18.629987))
            ThreePointArc((5.059159, -18.629987), (4.835975, -19.168803), (4.297159, -19.391987))
            Line((4.297159, -19.391987), (-1.799683, -19.391987))
        make_face()
        with BuildLine():
            Line((23.327058, -19.723452), (23.327058, -63.378432))
            ThreePointArc((23.327058, -63.378432), (23.103874, -63.917247), (22.565058, -64.140432))
            Line((22.565058, -64.140432), (4.102913, -64.140432))
            ThreePointArc((4.102913, -64.140432), (3.564097, -63.917247), (3.340913, -63.378432))
            Line((3.340913, -63.378432), (3.340913, -26.143166))
            ThreePointArc((3.340913, -26.143166), (3.564097, -25.604351), (4.102913, -25.381166))
            Line((4.102913, -25.381166), (8.884725, -25.381166))
            Line((8.884725, -25.381166), (8.884725, -19.723452))
            ThreePointArc((8.884725, -19.723452), (9.10791, -19.184637), (9.646725, -18.961452))
            Line((9.646725, -18.961452), (22.565058, -18.961452))
            ThreePointArc((22.565058, -18.961452), (23.103874, -19.184637), (23.327058, -19.723452))
        make_face(mode=Mode.SUBTRACT)
        with BuildLine():
            Line((16.206523, -3.277048), (22.565058, -3.277048))
            ThreePointArc((22.565058, -3.277048), (23.103874, -3.500233), (23.327058, -4.039048))
            Line((23.327058, -4.039048), (23.327058, -14.328273))
            ThreePointArc((23.327058, -14.328273), (23.103874, -14.867088), (22.565058, -15.090273))
            Line((22.565058, -15.090273), (16.206523, -15.090273))
            ThreePointArc((16.206523, -15.090273), (15.667707, -14.867088), (15.444523, -14.328273))
            Line((15.444523, -14.328273), (15.444523, -4.039048))
            ThreePointArc((15.444523, -4.039048), (15.667707, -3.500233), (16.206523, -3.277048))
        make_face(mode=Mode.SUBTRACT)
        with BuildLine():
            Line((9.334675, 30.473812), (22.565058, 30.473812))
            ThreePointArc((22.565058, 30.473812), (23.103874, 30.250627), (23.327058, 29.711812))
            Line((23.327058, 29.711812), (23.327058, 18.880225))
            ThreePointArc((23.327058, 18.880225), (23.103874, 18.34141), (22.565058, 18.118225))
            Line((22.565058, 18.118225), (14.499665, 18.118225))
            ThreePointArc((14.499665, 18.118225), (13.96085, 17.89504), (13.737665, 17.356225))
            Line((13.737665, 17.356225), (13.737665, -14.725744))
            ThreePointArc((13.737665, -14.725744), (13.514481, -15.264559), (12.975665, -15.487744))
            Line((12.975665, -15.487744), (9.334675, -15.487744))
            ThreePointArc((9.334675, -15.487744), (8.79586, -15.264559), (8.572675, -14.725744))
            Line((8.572675, -14.725744), (8.572675, 29.711812))
            ThreePointArc((8.572675, 29.711812), (8.79586, 30.250627), (9.334675, 30.473812))
        make_face(mode=Mode.SUBTRACT)
        with BuildLine():
            Line((15.88612, 14.02483), (22.565058, 14.02483))
            ThreePointArc((22.565058, 14.02483), (23.103874, 13.801646), (23.327058, 13.26283))
            Line((23.327058, 13.26283), (23.327058, 2.677905))
            ThreePointArc((23.327058, 2.677905), (23.103874, 2.139089), (22.565058, 1.915905))
            Line((22.565058, 1.915905), (15.88612, 1.915905))
            ThreePointArc((15.88612, 1.915905), (15.347304, 2.139089), (15.12412, 2.677905))
            Line((15.12412, 2.677905), (15.12412, 13.26283))
            ThreePointArc((15.12412, 13.26283), (15.347304, 13.801646), (15.88612, 14.02483))
        make_face(mode=Mode.SUBTRACT)
    extrude(amount=F1_DEPTH)

    # F2 (on Front) → F3 (join)
    with BuildSketch(Plane.XZ):
        with BuildLine():
            Line((-25.056604, -74.105591), (23.872839, -74.105591))
            ThreePointArc((23.872839, -74.105591), (26.566916, -72.989667), (27.682839, -70.295591))
            Line((27.682839, -70.295591), (27.682839, 63.256334))
            ThreePointArc((27.682839, 63.256334), (26.566916, 65.950411), (23.872839, 67.066334))
            Line((23.872839, 67.066334), (-25.056604, 67.066334))
            ThreePointArc((-25.056604, 67.066334), (-27.750681, 65.950411), (-28.866604, 63.256334))
            Line((-28.866604, 63.256334), (-28.866604, -70.295591))
            ThreePointArc((-28.866604, -70.295591), (-27.750681, -72.989667), (-25.056604, -74.105591))
        make_face()
        with BuildLine():
            Line((-16.71073, -64.140432), (-24.693408, -64.140432))
            ThreePointArc((-24.693408, -64.140432), (-25.232223, -63.917247), (-25.455408, -63.378432))
            Line((-25.455408, -63.378432), (-25.455408, -25.846069))
            ThreePointArc((-25.455408, -25.846069), (-25.232223, -25.307254), (-24.693408, -25.084069))
            Line((-24.693408, -25.084069), (-16.71073, -25.084069))
            Line((-16.71073, -25.084069), (-16.71073, -64.140432))
        make_face(mode=Mode.SUBTRACT)
        with BuildLine():
            Line((-16.71073, 57.586335), (-16.71073, 30.272609))
            Line((-16.71073, 30.272609), (-24.693408, 30.272609))
            ThreePointArc((-24.693408, 30.272609), (-25.232223, 30.495793), (-25.455408, 31.034609))
            Line((-25.455408, 31.034609), (-25.455408, 56.824335))
            ThreePointArc((-25.455408, 56.824335), (-25.232223, 57.36315), (-24.693408, 57.586335))
            Line((-24.693408, 57.586335), (-16.71073, 57.586335))
        make_face(mode=Mode.SUBTRACT)
    extrude(amount=-F3_DEPTH)

    # F4 (on face) → F5 (join)
    with BuildSketch(Plane(origin=(0, 3.048, 0), x_dir=(-1, 0, 0), z_dir=(0, 1, 0))):
        with BuildLine():
            Line((-29.664039, 64.526334), (-29.664039, -71.565591))
            ThreePointArc((-29.664039, -71.565591), (-28.176141, -75.157693), (-24.584039, -76.645591))
            Line((-24.584039, -76.645591), (25.767804, -76.645591))
            ThreePointArc((25.767804, -76.645591), (29.359906, -75.157693), (30.847804, -71.565591))
            Line((30.847804, -71.565591), (30.847804, 64.526334))
            ThreePointArc((30.847804, 64.526334), (29.359906, 68.118437), (25.767804, 69.606334))
            Line((25.767804, 69.606334), (-24.584039, 69.606334))
            ThreePointArc((-24.584039, 69.606334), (-28.176141, 68.118437), (-29.664039, 64.526334))
        make_face()
    extrude(amount=F5_DEPTH)


solid = f1.part
